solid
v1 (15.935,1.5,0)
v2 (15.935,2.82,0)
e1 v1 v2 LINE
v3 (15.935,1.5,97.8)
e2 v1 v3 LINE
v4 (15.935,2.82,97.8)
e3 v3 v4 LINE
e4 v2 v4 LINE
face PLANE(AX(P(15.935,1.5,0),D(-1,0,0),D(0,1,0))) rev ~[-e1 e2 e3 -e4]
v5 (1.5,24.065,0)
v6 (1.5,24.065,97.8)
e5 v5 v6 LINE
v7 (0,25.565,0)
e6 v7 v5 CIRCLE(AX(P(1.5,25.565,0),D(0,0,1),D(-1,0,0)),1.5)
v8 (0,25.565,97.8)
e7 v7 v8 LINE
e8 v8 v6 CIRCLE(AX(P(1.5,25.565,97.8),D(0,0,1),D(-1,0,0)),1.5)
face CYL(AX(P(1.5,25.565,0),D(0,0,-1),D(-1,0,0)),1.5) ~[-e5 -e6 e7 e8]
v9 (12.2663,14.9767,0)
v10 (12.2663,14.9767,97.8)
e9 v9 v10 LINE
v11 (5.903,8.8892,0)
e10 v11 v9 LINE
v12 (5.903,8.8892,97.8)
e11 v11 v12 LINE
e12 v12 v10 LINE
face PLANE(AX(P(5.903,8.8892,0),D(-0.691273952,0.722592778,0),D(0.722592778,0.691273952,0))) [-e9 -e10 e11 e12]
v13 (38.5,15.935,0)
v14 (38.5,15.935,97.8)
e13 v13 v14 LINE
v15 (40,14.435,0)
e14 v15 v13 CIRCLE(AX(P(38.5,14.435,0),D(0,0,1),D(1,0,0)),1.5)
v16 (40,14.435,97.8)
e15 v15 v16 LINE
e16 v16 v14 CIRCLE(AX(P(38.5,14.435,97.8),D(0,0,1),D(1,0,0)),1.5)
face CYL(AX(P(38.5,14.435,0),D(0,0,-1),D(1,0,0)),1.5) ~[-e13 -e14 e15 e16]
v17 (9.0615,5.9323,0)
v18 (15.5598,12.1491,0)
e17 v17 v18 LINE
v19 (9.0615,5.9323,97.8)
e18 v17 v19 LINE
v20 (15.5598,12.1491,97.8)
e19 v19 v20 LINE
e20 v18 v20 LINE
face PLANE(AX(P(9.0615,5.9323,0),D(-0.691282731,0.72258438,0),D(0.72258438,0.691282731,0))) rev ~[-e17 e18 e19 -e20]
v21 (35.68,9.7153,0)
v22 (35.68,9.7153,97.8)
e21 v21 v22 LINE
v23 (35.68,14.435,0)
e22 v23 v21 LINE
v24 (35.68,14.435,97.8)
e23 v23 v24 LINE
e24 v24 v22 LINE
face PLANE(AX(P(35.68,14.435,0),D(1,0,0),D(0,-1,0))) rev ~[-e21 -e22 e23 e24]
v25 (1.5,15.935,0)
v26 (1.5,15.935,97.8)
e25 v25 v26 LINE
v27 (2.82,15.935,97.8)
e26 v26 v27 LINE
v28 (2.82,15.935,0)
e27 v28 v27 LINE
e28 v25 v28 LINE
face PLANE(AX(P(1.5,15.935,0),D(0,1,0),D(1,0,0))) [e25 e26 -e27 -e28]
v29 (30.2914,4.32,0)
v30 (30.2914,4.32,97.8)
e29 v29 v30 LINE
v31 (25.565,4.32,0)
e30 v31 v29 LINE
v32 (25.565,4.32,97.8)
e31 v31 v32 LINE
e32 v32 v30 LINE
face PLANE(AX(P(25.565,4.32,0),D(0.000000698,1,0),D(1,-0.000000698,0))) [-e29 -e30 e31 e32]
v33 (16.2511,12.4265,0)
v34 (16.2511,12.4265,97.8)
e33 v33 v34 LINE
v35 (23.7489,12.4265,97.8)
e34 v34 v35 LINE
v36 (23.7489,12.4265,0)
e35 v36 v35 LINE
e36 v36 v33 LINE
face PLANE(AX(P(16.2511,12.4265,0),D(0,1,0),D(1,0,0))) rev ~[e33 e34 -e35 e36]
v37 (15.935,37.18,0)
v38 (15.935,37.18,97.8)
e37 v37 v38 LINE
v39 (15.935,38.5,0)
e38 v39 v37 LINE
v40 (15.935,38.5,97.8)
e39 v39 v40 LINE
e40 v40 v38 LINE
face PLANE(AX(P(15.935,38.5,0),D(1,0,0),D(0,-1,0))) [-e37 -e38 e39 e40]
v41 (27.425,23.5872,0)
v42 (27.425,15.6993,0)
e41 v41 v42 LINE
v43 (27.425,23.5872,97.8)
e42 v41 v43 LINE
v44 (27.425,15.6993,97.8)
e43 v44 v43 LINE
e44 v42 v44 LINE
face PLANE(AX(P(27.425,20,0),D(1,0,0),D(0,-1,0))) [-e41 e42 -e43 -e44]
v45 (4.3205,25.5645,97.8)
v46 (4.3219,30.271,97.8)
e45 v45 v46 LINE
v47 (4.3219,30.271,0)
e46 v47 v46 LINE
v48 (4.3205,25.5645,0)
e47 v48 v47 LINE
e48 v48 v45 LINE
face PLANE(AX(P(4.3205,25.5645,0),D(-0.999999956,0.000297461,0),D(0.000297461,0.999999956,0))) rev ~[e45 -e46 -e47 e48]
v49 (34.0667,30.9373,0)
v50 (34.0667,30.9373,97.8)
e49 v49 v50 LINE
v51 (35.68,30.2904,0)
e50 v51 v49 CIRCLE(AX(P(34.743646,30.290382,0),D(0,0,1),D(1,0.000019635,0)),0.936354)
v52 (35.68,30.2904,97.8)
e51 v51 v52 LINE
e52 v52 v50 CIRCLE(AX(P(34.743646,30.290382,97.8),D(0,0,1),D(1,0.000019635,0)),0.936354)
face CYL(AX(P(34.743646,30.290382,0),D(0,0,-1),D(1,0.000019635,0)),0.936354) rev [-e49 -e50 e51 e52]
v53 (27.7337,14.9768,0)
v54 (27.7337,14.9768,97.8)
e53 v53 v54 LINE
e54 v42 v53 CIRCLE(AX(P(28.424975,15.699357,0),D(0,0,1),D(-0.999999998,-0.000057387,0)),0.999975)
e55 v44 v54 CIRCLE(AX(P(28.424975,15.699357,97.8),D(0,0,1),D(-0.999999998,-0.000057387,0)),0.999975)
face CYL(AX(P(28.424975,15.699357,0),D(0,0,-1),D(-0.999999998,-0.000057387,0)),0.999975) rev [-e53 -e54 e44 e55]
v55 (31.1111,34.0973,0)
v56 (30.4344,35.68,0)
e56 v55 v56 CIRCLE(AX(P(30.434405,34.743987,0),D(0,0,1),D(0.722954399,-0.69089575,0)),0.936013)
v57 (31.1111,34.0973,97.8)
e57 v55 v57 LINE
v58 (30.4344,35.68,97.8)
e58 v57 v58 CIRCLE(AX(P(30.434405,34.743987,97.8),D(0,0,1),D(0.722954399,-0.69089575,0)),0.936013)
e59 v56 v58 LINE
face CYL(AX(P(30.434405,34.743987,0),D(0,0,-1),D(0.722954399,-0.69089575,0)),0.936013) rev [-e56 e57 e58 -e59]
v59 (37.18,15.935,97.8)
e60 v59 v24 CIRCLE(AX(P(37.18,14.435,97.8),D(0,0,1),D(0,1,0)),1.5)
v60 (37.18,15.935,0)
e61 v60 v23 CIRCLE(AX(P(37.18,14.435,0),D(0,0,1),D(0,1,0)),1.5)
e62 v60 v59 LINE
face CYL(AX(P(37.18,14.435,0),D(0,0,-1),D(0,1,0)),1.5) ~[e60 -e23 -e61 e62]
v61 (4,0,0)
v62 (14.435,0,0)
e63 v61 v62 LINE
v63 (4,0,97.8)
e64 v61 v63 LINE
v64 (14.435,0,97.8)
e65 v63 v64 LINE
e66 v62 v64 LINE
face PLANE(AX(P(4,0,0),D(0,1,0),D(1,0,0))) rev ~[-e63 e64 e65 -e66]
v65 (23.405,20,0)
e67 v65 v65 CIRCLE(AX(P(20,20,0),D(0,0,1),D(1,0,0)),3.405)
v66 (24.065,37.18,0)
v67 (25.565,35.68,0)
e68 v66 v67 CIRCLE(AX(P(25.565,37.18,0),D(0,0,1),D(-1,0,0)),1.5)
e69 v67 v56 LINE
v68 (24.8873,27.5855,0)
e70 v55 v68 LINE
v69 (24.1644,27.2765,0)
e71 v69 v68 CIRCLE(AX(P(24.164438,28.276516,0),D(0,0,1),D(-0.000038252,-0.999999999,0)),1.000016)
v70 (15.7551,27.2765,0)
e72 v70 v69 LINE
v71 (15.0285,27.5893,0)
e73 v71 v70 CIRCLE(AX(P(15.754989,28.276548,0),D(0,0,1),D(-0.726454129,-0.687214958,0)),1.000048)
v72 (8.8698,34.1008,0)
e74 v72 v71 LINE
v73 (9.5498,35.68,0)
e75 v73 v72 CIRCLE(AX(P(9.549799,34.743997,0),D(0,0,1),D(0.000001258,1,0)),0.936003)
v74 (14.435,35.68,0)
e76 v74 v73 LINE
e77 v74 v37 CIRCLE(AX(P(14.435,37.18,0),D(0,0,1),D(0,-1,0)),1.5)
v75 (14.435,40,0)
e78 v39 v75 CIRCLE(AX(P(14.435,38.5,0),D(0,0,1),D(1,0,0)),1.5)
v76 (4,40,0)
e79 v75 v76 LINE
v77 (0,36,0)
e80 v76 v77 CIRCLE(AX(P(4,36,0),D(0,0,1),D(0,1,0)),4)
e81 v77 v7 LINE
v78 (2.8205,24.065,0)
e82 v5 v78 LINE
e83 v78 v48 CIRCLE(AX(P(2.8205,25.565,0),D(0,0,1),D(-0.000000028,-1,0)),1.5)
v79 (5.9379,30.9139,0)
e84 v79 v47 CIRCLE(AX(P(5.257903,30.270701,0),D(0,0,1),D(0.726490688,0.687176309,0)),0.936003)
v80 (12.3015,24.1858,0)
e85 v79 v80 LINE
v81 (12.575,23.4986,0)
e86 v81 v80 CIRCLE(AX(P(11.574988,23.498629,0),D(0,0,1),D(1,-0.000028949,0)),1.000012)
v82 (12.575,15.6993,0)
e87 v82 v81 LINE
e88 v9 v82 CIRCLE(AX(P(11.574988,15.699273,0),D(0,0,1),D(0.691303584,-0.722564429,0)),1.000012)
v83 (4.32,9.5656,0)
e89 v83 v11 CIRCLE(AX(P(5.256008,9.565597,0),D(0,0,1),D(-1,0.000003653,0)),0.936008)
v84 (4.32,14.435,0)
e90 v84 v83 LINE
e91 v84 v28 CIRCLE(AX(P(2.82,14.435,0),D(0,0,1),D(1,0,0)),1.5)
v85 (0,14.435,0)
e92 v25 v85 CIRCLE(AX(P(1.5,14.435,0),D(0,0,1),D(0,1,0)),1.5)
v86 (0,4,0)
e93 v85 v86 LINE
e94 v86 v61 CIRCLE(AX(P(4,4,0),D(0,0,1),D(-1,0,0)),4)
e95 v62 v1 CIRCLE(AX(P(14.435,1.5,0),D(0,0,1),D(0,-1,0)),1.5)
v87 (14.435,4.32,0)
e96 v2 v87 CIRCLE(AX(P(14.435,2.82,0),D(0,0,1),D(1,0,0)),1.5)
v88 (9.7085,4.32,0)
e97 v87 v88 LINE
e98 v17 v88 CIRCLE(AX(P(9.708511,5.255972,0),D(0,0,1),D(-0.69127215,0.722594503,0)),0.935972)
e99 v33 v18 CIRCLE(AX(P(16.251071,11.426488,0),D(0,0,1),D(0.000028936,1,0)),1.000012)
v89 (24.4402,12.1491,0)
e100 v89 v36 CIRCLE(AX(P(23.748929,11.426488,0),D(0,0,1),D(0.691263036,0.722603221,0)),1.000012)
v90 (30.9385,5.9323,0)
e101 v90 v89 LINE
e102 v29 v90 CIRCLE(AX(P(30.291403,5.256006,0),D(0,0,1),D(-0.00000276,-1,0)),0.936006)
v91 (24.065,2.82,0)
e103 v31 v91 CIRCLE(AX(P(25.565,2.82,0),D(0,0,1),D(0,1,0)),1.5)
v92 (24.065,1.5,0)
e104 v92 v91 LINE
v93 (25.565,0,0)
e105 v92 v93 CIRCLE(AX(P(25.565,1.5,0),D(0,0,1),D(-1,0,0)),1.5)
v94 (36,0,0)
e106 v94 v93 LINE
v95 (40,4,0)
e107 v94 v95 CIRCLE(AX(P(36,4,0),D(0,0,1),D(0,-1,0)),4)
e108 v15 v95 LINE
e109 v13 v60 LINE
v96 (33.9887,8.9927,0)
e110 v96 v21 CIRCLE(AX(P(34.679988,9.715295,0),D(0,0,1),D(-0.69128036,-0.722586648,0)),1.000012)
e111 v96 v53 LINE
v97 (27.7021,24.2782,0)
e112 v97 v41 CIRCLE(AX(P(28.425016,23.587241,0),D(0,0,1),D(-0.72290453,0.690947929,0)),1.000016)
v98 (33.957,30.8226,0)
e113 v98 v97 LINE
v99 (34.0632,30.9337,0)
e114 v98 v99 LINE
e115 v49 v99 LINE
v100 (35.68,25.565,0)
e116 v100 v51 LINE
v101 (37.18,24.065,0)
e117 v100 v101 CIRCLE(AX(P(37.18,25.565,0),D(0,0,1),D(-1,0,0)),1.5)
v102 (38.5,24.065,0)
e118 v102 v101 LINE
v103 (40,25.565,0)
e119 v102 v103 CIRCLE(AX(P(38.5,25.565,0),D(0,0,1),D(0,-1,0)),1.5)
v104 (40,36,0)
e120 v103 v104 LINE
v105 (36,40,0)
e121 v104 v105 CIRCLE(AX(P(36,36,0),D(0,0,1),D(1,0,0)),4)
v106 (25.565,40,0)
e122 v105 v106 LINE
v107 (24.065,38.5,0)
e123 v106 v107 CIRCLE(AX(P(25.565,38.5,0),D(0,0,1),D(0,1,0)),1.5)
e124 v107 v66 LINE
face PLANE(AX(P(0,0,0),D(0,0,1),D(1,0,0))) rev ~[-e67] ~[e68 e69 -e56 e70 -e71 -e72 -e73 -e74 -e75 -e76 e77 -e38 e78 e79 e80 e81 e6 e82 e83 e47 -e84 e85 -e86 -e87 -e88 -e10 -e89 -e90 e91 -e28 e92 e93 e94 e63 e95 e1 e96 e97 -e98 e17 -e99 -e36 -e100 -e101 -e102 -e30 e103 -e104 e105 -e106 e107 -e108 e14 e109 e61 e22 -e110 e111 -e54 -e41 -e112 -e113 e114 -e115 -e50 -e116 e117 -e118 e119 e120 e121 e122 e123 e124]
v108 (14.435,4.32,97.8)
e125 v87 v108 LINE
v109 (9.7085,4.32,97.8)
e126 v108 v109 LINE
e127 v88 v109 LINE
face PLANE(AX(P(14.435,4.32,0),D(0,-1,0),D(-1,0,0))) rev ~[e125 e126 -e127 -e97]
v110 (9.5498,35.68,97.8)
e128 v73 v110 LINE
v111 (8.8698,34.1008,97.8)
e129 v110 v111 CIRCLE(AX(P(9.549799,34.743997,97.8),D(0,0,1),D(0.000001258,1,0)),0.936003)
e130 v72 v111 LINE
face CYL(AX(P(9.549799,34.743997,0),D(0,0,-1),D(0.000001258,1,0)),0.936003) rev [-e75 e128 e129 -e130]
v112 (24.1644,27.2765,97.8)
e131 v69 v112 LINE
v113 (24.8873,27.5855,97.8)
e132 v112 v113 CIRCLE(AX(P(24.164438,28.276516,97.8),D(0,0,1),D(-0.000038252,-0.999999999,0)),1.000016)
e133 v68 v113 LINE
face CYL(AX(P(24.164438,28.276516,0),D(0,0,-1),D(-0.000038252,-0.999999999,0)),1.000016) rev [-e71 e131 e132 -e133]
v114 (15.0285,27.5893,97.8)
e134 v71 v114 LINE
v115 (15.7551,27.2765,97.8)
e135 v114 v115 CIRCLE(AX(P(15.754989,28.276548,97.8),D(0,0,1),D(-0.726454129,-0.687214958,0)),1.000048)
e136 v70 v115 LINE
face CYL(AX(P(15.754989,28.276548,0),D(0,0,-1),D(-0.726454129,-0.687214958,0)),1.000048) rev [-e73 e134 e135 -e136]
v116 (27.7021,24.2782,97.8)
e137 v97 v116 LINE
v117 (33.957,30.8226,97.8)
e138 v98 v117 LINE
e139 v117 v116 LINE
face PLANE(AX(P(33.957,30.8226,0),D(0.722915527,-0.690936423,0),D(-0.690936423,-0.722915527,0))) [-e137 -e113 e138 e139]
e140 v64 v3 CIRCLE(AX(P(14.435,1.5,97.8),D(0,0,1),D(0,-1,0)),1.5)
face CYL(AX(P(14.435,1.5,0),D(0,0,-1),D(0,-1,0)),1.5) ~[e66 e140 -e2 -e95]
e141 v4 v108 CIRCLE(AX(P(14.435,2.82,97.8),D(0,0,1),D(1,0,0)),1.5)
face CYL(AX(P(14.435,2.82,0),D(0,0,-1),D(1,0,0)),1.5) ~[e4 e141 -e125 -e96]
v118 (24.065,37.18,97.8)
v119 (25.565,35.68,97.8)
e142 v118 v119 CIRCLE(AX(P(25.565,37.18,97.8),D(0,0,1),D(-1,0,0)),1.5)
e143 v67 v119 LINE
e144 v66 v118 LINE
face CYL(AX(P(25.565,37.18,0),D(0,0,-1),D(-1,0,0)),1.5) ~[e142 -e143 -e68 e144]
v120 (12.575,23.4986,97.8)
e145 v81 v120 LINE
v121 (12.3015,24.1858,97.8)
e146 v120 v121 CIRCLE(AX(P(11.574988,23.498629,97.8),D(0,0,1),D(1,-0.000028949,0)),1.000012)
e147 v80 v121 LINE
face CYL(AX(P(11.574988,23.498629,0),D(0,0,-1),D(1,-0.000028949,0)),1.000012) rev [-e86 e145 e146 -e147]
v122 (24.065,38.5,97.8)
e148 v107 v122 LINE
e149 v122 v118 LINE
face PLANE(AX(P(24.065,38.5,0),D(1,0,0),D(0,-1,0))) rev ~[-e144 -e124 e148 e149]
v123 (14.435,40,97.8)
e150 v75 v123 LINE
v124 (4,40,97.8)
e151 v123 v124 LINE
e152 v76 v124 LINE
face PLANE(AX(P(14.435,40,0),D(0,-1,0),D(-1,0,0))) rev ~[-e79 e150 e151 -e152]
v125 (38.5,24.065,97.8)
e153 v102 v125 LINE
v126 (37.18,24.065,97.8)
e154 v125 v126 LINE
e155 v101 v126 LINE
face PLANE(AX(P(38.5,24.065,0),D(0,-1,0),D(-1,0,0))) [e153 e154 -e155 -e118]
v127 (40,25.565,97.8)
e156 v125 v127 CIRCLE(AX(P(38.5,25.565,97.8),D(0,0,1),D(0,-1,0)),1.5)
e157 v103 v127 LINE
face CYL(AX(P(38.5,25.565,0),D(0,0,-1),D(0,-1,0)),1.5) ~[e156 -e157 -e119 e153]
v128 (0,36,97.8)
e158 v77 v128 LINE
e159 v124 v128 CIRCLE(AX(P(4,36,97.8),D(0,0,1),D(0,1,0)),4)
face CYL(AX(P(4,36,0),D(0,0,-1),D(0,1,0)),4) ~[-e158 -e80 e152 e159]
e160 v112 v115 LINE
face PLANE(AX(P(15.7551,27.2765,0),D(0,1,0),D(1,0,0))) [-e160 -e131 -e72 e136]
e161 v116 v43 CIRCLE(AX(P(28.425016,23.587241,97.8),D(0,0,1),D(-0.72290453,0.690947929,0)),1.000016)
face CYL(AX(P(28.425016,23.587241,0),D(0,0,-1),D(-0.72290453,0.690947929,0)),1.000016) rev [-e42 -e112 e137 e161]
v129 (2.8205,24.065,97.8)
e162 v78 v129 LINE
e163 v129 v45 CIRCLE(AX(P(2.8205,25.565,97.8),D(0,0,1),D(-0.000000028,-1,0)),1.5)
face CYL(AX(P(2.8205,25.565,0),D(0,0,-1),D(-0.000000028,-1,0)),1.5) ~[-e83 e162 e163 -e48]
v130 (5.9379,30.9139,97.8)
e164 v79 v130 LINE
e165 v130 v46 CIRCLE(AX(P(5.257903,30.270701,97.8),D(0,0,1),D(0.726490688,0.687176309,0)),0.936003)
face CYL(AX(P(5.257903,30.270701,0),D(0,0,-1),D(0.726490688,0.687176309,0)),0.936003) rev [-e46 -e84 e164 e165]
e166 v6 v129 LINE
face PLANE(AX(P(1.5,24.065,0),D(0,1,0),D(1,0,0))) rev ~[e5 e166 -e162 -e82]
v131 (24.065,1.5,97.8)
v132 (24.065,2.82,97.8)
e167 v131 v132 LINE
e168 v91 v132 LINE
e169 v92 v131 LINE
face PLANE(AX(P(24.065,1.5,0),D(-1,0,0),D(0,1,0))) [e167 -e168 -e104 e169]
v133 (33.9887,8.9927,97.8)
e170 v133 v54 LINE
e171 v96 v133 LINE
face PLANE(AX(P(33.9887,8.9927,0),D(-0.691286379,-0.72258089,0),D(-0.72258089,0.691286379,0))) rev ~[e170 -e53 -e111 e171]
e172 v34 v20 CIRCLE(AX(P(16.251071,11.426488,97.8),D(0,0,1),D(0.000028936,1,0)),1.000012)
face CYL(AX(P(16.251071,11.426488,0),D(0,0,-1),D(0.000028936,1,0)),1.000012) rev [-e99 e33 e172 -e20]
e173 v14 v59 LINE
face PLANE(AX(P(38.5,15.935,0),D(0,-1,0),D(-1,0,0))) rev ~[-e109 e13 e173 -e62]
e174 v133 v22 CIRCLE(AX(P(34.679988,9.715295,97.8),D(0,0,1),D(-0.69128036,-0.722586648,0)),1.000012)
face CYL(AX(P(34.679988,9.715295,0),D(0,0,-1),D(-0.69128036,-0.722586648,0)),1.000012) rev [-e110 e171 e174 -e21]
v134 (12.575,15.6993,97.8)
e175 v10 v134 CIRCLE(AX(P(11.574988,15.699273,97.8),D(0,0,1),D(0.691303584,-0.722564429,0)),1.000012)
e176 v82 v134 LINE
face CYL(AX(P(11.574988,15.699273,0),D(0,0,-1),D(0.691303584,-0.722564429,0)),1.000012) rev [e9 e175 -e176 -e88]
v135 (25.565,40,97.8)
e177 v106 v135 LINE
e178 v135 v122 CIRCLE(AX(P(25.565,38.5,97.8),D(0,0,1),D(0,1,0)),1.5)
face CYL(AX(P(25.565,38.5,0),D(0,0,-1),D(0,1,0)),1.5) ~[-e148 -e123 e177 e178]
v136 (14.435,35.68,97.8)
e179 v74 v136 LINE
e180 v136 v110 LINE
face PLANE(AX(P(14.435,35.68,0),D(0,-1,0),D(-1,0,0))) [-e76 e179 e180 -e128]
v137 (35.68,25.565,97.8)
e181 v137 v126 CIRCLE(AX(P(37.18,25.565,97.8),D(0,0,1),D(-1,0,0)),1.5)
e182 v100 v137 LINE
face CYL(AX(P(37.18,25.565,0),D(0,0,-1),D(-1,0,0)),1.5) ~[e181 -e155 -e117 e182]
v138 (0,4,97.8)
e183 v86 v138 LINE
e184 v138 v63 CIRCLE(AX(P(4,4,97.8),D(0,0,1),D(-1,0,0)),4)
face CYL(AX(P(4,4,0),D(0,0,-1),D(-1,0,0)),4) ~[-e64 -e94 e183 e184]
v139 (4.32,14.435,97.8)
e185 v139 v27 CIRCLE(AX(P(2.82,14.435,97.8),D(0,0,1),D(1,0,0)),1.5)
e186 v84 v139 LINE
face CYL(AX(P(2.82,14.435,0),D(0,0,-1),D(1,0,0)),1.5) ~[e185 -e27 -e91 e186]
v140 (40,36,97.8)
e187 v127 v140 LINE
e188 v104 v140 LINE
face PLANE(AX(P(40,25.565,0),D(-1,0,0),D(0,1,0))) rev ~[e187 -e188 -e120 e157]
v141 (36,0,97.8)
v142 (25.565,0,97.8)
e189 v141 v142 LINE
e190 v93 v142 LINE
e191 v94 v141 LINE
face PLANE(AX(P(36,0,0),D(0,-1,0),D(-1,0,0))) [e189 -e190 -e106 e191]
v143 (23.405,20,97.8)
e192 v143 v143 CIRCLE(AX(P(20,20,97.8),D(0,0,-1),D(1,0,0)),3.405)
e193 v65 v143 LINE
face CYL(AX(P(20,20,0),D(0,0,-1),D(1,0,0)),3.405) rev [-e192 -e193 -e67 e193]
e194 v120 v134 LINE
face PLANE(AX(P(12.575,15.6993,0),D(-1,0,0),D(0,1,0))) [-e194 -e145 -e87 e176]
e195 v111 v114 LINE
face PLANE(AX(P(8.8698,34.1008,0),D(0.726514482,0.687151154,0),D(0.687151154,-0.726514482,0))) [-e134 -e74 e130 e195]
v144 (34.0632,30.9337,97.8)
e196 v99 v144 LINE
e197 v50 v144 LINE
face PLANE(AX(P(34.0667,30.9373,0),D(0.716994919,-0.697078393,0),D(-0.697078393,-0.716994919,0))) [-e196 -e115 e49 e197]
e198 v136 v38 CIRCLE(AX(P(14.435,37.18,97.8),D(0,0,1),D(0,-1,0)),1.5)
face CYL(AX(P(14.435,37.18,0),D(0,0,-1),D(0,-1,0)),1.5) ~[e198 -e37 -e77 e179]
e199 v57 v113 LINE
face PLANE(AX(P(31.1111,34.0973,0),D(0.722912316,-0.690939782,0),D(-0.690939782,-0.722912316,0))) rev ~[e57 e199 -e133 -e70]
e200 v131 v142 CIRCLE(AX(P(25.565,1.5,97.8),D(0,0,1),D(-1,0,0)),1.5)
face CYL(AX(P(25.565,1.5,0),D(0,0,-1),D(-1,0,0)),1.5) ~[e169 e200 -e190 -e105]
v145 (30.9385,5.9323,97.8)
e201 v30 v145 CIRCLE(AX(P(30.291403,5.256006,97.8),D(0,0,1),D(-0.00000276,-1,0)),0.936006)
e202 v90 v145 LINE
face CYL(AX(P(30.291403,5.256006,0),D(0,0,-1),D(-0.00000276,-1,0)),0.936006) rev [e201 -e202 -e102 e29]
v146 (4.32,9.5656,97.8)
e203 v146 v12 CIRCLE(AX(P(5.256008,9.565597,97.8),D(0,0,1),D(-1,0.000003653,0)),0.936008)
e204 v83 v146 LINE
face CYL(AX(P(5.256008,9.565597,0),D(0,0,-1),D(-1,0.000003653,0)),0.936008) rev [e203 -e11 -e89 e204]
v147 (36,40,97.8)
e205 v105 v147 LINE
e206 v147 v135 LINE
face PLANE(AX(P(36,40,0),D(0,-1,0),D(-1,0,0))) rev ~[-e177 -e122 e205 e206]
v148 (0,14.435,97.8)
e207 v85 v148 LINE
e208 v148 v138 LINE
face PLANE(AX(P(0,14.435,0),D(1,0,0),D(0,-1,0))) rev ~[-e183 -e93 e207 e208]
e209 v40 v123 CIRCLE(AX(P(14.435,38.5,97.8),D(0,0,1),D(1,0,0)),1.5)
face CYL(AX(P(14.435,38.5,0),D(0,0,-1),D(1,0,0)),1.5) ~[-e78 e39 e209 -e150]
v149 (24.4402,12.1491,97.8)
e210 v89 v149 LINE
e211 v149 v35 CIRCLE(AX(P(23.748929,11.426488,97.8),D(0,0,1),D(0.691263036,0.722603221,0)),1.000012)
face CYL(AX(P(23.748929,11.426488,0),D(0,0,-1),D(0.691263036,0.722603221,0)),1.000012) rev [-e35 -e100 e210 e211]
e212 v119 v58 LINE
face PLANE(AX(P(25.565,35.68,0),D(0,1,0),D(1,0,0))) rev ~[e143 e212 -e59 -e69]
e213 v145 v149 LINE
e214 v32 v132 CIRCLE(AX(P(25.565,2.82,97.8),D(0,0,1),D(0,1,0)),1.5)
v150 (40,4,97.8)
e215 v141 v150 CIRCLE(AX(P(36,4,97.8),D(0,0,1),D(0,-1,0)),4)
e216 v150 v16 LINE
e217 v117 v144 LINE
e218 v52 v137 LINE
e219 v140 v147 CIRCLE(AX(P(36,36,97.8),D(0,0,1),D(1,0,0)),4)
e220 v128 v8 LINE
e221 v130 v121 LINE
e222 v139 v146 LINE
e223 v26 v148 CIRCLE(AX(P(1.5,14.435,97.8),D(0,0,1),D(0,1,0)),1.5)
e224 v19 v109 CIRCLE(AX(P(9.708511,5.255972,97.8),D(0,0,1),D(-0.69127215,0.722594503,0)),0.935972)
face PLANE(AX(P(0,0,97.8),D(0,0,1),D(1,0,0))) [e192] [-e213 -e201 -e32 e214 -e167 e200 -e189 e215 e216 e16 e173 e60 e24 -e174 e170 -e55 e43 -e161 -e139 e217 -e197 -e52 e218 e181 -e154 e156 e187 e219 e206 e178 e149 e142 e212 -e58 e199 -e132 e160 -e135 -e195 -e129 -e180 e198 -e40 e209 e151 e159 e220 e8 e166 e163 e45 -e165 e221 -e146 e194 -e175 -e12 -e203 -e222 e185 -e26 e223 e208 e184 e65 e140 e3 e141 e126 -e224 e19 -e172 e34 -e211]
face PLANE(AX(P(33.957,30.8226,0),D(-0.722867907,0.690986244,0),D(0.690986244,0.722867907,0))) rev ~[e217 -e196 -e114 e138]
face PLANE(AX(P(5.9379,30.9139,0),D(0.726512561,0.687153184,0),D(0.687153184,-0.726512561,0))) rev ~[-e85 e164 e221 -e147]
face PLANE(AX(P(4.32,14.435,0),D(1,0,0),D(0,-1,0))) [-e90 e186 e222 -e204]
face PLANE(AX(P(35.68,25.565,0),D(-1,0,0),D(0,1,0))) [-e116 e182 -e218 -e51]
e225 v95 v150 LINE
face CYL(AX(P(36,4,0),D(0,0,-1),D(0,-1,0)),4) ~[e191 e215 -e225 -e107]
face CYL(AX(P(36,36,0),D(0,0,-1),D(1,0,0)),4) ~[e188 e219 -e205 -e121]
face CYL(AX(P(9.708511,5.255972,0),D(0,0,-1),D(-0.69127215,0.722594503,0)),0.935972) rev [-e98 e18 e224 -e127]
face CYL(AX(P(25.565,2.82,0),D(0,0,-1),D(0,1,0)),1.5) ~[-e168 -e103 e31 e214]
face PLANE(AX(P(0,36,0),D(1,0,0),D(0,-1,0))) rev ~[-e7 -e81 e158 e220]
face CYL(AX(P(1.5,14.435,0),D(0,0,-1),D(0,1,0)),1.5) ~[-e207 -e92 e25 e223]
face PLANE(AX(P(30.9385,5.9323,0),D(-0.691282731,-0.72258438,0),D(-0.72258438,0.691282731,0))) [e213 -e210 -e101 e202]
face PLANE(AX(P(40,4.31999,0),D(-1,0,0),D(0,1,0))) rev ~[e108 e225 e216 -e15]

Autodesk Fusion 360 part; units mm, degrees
sketch "Sketch1" plane through (0, 0, 0) normal (0, 0, 1) x (1, 0, 0)
  line L0 (4, 0) -> (14.435, 0)
  line L1 (40, 0) -> (40, 36)
  line L2 (36, 40) -> (0, 40)
  line L3 (0, 40) -> (0, 4)
  line L4 (0, 0) -> (0, 20)
  line L5 (0, 40) -> (20, 40)
  circle A0 centre (20, 20) radius 3.405
  line L6 (40, 40) -> (24.065, 40)
  line L7 (40, 40) -> (25.565, 40)
  line L8 (40, 40) -> (40, 25.565)
  line L9 (38.5, 24.065) -> (37.18, 24.065)
  line L10 (24.065, 38.5) -> (24.065, 37.18)
  line L11 (25.565, 35.68) -> (30.4344, 35.68)
  line L12 (35.68, 25.565) -> (35.68, 30.2904)
  line L13 (20, 20) -> (20, 40)
  line L14 (20, 20) -> (0, 20)
  line L15 (20, 20) -> (20, 0)
  line L16 (20, 20) -> (40, 20)
  line L17 (14.435, 35.68) -> (9.5498, 35.68)
  line L18 (15.935, 38.5) -> (15.935, 37.18)
  line L19 (4, 40) -> (14.435, 40)
  line L20 (0, 36) -> (0, 25.565)
  line L21 (1.5, 24.065) -> (2.8205, 24.065)
  line L22 (4.3205, 25.5645) -> (4.3219, 30.271)
  line L23 (25.565, 4.32) -> (1890698.4728, 3)
  line L24 (24.065, 1.5) -> (24.065, 2.82)
  line L25 (36, 0) -> (25.565, 0)
  line L26 (40, 4) -> (40, 14.435)
  line L27 (38.5, 15.935) -> (37.18, 15.935)
  line L28 (35.68, 14.435) -> (35.68, 9.7153)
  line L29 (14.435, 4.32) -> (9.7085, 4.32)
  line L30 (15.935, 1.5) -> (15.935, 2.82)
  line L31 (0, 0) -> (15.935, 0)
  line L32 (1.5, 15.935) -> (2.82, 15.935)
  line L33 (4.32, 14.435) -> (4.32, 9.5656)
  line L34 (0, 14.435) -> (0, 0)
  line L35 (0, 0) -> (15.935, 0)
  line L36 (5.9379, 30.9139) -> (12.3015, 24.1858)
  line L37 (8.8698, 34.1008) -> (15.0285, 27.5893)
  line L38 (30.9385, 5.9323) -> (24.4402, 12.1491)
  line L39 (33.9887, 8.9927) -> (27.7337, 14.9768)
  line L40 (5.903, 8.8892) -> (12.2663, 14.9767)
  line L41 (9.0615, 5.9323) -> (15.5598, 12.1491)
  line L42 (31.1111, 34.0973) -> (24.8873, 27.5855)
  line L43 (33.957, 30.8226) -> (27.7021, 24.2782)
  line L44 (27.425, 23.5872) -> (27.425, 15.6993)
  line L45 (16.2511, 12.4265) -> (23.7489, 12.4265)
  line L46 (12.575, 15.6993) -> (12.575, 23.4986)
  line L47 (15.7551, 27.2765) -> (24.1644, 27.2765)
  line L48 (35.68, 30.1316) -> (35.68, 30.2853)
  line L49 (34.0667, 30.9373) -> (34.0632, 30.9337)
  arc A1 (33.9887, 8.9927) -> (35.68, 9.7153) centre (34.68, 9.7153) ccw
  line L50 (35.68, 7.3747) -> (35.68, 9.7153)
  arc A2 (27.7021, 24.2782) -> (27.425, 23.5872) centre (28.425, 23.5872) ccw
  arc A3 (35.68, 30.2904) -> (34.0667, 30.9373) centre (34.7436, 30.2904) ccw
  arc A4 (5.9379, 30.9139) -> (4.3219, 30.271) centre (5.2579, 30.2707) ccw
  arc A5 (12.575, 23.4986) -> (12.3015, 24.1858) centre (11.575, 23.4986) ccw
  arc A6 (12.2663, 14.9767) -> (12.575, 15.6993) centre (11.575, 15.6993) ccw
  arc A7 (4.32, 9.5656) -> (5.903, 8.8892) centre (5.256, 9.5656) ccw
  arc A8 (9.0615, 5.9323) -> (9.7085, 4.32) centre (9.7085, 5.256) ccw
  arc A9 (30.2914, 4.32) -> (30.9385, 5.9323) centre (30.2914, 5.256) ccw
  arc A10 (24.4402, 12.1491) -> (23.7489, 12.4265) centre (23.7489, 11.4265) ccw
  arc A11 (16.2511, 12.4265) -> (15.5598, 12.1491) centre (16.2511, 11.4265) ccw
  arc A12 (27.425, 15.6993) -> (27.7337, 14.9768) centre (28.425, 15.6993) ccw
  arc A13 (24.1644, 27.2765) -> (24.8873, 27.5855) centre (24.1644, 28.2765) ccw
  arc A14 (15.0285, 27.5893) -> (15.7551, 27.2765) centre (15.7551, 28.2765) ccw
  arc A15 (37.18, 15.935) -> (35.68, 14.435) centre (37.18, 14.435) ccw
  arc A16 (40, 14.435) -> (38.5, 15.935) centre (38.5, 14.435) ccw
  arc A17 (35.68, 25.565) -> (37.18, 24.065) centre (37.18, 25.565) ccw
  arc A18 (38.5, 24.065) -> (40, 25.565) centre (38.5, 25.565) ccw
  arc A19 (25.565, 40) -> (24.065, 38.5) centre (25.565, 38.5) ccw
  arc A20 (24.065, 37.18) -> (25.565, 35.68) centre (25.565, 37.18) ccw
  arc A21 (14.435, 35.68) -> (15.935, 37.18) centre (14.435, 37.18) ccw
  arc A22 (15.935, 38.5) -> (14.435, 40) centre (14.435, 38.5) ccw
  arc A23 (2.8205, 24.065) -> (4.3205, 25.5645) centre (2.8205, 25.565) ccw
  arc A24 (0, 25.565) -> (1.5, 24.065) centre (1.5, 25.565) ccw
  arc A25 (4.32, 14.435) -> (2.82, 15.935) centre (2.82, 14.435) ccw
  arc A26 (1.5, 15.935) -> (0, 14.435) centre (1.5, 14.435) ccw
  arc A27 (15.935, 2.82) -> (14.435, 4.32) centre (14.435, 2.82) ccw
  arc A28 (1890698.4728, 0) -> (1890698.4728, 3) centre (1890698.4728, 1.5) ccw
  arc A29 (24.065, 1.5) -> (25.565, 0) centre (25.565, 1.5) ccw
  arc A30 (14.435, 0) -> (15.935, 1.5) centre (14.435, 1.5) ccw
  arc A31 (25.565, 4.32) -> (24.065, 2.82) centre (25.565, 2.82) ccw
  arc A32 (4, 40) -> (0, 36) centre (4, 36) ccw
  arc A33 (0, 4) -> (4, 0) centre (4, 4) ccw
  arc A34 (36, 0) -> (40, 4) centre (36, 4) ccw
  arc A35 (40, 36) -> (36, 40) centre (36, 36) ccw
  arc A36 (9.5498, 35.68) -> (8.8698, 34.1008) centre (9.5498, 34.744) ccw
  arc A37 (31.1111, 34.0973) -> (30.4344, 35.68) centre (30.4344, 34.744) ccw
  line L51 (40, 25.1972) -> (40, 36)
  line L52 (33.957, 30.8226) -> (34.0632, 30.9337)
  point P0 (20, 20)
  point P1 (40, 24.065)
  point P2 (35.68, 24.065)
  point P3 (24.065, 35.68)
  point P4 (35.68, 32.6253)
  point P5 (35.68, 7.3747)
  dimension "d1" = 40
  dimension "d2" = 40
  dimension "d8" = 15.935
  dimension "d9" = 15.935
  dimension "d10" = 4.32
  dimension "d11" = 4.32
  dimension "d16" = 90
  dimension "d17" = 90
  dimension "d22" = 4.32
  dimension "d23" = 4.32
  dimension "d24" = 4.32
  dimension "d25" = 4.32
  dimension "d26" = 8.13
  dimension "d27" = 4.32
  dimension "d28" = 14.85
  dimension "d29" = 14.85
  dimension "d30" = 7.425
  dimension "d31" = 25.2506
  dimension "d32" = 2.34
  dimension "d33" = 2.34
  dimension "d35" = 1
  dimension "d36" = 20.57
  dimension "d37" = 1
  dimension "d38" = 7.9779
  dimension "d39" = 0.9364
  dimension "d40" = 0.936
  dimension "d41" = 1
  dimension "d42" = 1
  dimension "d43" = 0.936
  dimension "d44" = 0.936
  dimension "d45" = 0.936
  dimension "d46" = 1
  dimension "d47" = 1
  dimension "d48" = 1
  dimension "d49" = 1
  dimension "d50" = 1
  dimension "d51" = 1.5
  dimension "d52" = 1.5
  dimension "d53" = 1.5
  dimension "d54" = 1.5
  dimension "d55" = 1.5
  dimension "d56" = 1.5
  dimension "d57" = 1.5
  dimension "d58" = 1.5
  dimension "d59" = 4
  dimension "d60" = 4
  dimension "d61" = 0.936
  dimension "d62" = 0.936
extrude "Extrude1" add sketch "Sketch1" along normal blind 97.8 contours L0 L3 L4 A0 L14 L15 L29 L30 L31 L32 L33 L34 L35 L40 L41 L45 L46 A6 A7 A8 A11 A25 A26 A27 A30 A33 | L2 L3 L5 A0 L13 L14 L17 L18 L19 L20 L21 L22 L36 L37 L46 L47 A4 A5 A14 A21 A22 A23 A24 A32 A36 | L1 L2 A0 L6 L7 L8 L9 L10 L11 L12 L13 L16 L42 L43 L44 L47 L48 L49 A2 A3 A13 A17 A18 A19 A20 A35 A37 L51 L52 | L1 A0 L15 L16 L23 L26 L27 L28 L38 L39 L44 L45 A1 A9 A10 A12 A15 A16 | L1 L23 L24 L25 L26 A29 A31 A34
